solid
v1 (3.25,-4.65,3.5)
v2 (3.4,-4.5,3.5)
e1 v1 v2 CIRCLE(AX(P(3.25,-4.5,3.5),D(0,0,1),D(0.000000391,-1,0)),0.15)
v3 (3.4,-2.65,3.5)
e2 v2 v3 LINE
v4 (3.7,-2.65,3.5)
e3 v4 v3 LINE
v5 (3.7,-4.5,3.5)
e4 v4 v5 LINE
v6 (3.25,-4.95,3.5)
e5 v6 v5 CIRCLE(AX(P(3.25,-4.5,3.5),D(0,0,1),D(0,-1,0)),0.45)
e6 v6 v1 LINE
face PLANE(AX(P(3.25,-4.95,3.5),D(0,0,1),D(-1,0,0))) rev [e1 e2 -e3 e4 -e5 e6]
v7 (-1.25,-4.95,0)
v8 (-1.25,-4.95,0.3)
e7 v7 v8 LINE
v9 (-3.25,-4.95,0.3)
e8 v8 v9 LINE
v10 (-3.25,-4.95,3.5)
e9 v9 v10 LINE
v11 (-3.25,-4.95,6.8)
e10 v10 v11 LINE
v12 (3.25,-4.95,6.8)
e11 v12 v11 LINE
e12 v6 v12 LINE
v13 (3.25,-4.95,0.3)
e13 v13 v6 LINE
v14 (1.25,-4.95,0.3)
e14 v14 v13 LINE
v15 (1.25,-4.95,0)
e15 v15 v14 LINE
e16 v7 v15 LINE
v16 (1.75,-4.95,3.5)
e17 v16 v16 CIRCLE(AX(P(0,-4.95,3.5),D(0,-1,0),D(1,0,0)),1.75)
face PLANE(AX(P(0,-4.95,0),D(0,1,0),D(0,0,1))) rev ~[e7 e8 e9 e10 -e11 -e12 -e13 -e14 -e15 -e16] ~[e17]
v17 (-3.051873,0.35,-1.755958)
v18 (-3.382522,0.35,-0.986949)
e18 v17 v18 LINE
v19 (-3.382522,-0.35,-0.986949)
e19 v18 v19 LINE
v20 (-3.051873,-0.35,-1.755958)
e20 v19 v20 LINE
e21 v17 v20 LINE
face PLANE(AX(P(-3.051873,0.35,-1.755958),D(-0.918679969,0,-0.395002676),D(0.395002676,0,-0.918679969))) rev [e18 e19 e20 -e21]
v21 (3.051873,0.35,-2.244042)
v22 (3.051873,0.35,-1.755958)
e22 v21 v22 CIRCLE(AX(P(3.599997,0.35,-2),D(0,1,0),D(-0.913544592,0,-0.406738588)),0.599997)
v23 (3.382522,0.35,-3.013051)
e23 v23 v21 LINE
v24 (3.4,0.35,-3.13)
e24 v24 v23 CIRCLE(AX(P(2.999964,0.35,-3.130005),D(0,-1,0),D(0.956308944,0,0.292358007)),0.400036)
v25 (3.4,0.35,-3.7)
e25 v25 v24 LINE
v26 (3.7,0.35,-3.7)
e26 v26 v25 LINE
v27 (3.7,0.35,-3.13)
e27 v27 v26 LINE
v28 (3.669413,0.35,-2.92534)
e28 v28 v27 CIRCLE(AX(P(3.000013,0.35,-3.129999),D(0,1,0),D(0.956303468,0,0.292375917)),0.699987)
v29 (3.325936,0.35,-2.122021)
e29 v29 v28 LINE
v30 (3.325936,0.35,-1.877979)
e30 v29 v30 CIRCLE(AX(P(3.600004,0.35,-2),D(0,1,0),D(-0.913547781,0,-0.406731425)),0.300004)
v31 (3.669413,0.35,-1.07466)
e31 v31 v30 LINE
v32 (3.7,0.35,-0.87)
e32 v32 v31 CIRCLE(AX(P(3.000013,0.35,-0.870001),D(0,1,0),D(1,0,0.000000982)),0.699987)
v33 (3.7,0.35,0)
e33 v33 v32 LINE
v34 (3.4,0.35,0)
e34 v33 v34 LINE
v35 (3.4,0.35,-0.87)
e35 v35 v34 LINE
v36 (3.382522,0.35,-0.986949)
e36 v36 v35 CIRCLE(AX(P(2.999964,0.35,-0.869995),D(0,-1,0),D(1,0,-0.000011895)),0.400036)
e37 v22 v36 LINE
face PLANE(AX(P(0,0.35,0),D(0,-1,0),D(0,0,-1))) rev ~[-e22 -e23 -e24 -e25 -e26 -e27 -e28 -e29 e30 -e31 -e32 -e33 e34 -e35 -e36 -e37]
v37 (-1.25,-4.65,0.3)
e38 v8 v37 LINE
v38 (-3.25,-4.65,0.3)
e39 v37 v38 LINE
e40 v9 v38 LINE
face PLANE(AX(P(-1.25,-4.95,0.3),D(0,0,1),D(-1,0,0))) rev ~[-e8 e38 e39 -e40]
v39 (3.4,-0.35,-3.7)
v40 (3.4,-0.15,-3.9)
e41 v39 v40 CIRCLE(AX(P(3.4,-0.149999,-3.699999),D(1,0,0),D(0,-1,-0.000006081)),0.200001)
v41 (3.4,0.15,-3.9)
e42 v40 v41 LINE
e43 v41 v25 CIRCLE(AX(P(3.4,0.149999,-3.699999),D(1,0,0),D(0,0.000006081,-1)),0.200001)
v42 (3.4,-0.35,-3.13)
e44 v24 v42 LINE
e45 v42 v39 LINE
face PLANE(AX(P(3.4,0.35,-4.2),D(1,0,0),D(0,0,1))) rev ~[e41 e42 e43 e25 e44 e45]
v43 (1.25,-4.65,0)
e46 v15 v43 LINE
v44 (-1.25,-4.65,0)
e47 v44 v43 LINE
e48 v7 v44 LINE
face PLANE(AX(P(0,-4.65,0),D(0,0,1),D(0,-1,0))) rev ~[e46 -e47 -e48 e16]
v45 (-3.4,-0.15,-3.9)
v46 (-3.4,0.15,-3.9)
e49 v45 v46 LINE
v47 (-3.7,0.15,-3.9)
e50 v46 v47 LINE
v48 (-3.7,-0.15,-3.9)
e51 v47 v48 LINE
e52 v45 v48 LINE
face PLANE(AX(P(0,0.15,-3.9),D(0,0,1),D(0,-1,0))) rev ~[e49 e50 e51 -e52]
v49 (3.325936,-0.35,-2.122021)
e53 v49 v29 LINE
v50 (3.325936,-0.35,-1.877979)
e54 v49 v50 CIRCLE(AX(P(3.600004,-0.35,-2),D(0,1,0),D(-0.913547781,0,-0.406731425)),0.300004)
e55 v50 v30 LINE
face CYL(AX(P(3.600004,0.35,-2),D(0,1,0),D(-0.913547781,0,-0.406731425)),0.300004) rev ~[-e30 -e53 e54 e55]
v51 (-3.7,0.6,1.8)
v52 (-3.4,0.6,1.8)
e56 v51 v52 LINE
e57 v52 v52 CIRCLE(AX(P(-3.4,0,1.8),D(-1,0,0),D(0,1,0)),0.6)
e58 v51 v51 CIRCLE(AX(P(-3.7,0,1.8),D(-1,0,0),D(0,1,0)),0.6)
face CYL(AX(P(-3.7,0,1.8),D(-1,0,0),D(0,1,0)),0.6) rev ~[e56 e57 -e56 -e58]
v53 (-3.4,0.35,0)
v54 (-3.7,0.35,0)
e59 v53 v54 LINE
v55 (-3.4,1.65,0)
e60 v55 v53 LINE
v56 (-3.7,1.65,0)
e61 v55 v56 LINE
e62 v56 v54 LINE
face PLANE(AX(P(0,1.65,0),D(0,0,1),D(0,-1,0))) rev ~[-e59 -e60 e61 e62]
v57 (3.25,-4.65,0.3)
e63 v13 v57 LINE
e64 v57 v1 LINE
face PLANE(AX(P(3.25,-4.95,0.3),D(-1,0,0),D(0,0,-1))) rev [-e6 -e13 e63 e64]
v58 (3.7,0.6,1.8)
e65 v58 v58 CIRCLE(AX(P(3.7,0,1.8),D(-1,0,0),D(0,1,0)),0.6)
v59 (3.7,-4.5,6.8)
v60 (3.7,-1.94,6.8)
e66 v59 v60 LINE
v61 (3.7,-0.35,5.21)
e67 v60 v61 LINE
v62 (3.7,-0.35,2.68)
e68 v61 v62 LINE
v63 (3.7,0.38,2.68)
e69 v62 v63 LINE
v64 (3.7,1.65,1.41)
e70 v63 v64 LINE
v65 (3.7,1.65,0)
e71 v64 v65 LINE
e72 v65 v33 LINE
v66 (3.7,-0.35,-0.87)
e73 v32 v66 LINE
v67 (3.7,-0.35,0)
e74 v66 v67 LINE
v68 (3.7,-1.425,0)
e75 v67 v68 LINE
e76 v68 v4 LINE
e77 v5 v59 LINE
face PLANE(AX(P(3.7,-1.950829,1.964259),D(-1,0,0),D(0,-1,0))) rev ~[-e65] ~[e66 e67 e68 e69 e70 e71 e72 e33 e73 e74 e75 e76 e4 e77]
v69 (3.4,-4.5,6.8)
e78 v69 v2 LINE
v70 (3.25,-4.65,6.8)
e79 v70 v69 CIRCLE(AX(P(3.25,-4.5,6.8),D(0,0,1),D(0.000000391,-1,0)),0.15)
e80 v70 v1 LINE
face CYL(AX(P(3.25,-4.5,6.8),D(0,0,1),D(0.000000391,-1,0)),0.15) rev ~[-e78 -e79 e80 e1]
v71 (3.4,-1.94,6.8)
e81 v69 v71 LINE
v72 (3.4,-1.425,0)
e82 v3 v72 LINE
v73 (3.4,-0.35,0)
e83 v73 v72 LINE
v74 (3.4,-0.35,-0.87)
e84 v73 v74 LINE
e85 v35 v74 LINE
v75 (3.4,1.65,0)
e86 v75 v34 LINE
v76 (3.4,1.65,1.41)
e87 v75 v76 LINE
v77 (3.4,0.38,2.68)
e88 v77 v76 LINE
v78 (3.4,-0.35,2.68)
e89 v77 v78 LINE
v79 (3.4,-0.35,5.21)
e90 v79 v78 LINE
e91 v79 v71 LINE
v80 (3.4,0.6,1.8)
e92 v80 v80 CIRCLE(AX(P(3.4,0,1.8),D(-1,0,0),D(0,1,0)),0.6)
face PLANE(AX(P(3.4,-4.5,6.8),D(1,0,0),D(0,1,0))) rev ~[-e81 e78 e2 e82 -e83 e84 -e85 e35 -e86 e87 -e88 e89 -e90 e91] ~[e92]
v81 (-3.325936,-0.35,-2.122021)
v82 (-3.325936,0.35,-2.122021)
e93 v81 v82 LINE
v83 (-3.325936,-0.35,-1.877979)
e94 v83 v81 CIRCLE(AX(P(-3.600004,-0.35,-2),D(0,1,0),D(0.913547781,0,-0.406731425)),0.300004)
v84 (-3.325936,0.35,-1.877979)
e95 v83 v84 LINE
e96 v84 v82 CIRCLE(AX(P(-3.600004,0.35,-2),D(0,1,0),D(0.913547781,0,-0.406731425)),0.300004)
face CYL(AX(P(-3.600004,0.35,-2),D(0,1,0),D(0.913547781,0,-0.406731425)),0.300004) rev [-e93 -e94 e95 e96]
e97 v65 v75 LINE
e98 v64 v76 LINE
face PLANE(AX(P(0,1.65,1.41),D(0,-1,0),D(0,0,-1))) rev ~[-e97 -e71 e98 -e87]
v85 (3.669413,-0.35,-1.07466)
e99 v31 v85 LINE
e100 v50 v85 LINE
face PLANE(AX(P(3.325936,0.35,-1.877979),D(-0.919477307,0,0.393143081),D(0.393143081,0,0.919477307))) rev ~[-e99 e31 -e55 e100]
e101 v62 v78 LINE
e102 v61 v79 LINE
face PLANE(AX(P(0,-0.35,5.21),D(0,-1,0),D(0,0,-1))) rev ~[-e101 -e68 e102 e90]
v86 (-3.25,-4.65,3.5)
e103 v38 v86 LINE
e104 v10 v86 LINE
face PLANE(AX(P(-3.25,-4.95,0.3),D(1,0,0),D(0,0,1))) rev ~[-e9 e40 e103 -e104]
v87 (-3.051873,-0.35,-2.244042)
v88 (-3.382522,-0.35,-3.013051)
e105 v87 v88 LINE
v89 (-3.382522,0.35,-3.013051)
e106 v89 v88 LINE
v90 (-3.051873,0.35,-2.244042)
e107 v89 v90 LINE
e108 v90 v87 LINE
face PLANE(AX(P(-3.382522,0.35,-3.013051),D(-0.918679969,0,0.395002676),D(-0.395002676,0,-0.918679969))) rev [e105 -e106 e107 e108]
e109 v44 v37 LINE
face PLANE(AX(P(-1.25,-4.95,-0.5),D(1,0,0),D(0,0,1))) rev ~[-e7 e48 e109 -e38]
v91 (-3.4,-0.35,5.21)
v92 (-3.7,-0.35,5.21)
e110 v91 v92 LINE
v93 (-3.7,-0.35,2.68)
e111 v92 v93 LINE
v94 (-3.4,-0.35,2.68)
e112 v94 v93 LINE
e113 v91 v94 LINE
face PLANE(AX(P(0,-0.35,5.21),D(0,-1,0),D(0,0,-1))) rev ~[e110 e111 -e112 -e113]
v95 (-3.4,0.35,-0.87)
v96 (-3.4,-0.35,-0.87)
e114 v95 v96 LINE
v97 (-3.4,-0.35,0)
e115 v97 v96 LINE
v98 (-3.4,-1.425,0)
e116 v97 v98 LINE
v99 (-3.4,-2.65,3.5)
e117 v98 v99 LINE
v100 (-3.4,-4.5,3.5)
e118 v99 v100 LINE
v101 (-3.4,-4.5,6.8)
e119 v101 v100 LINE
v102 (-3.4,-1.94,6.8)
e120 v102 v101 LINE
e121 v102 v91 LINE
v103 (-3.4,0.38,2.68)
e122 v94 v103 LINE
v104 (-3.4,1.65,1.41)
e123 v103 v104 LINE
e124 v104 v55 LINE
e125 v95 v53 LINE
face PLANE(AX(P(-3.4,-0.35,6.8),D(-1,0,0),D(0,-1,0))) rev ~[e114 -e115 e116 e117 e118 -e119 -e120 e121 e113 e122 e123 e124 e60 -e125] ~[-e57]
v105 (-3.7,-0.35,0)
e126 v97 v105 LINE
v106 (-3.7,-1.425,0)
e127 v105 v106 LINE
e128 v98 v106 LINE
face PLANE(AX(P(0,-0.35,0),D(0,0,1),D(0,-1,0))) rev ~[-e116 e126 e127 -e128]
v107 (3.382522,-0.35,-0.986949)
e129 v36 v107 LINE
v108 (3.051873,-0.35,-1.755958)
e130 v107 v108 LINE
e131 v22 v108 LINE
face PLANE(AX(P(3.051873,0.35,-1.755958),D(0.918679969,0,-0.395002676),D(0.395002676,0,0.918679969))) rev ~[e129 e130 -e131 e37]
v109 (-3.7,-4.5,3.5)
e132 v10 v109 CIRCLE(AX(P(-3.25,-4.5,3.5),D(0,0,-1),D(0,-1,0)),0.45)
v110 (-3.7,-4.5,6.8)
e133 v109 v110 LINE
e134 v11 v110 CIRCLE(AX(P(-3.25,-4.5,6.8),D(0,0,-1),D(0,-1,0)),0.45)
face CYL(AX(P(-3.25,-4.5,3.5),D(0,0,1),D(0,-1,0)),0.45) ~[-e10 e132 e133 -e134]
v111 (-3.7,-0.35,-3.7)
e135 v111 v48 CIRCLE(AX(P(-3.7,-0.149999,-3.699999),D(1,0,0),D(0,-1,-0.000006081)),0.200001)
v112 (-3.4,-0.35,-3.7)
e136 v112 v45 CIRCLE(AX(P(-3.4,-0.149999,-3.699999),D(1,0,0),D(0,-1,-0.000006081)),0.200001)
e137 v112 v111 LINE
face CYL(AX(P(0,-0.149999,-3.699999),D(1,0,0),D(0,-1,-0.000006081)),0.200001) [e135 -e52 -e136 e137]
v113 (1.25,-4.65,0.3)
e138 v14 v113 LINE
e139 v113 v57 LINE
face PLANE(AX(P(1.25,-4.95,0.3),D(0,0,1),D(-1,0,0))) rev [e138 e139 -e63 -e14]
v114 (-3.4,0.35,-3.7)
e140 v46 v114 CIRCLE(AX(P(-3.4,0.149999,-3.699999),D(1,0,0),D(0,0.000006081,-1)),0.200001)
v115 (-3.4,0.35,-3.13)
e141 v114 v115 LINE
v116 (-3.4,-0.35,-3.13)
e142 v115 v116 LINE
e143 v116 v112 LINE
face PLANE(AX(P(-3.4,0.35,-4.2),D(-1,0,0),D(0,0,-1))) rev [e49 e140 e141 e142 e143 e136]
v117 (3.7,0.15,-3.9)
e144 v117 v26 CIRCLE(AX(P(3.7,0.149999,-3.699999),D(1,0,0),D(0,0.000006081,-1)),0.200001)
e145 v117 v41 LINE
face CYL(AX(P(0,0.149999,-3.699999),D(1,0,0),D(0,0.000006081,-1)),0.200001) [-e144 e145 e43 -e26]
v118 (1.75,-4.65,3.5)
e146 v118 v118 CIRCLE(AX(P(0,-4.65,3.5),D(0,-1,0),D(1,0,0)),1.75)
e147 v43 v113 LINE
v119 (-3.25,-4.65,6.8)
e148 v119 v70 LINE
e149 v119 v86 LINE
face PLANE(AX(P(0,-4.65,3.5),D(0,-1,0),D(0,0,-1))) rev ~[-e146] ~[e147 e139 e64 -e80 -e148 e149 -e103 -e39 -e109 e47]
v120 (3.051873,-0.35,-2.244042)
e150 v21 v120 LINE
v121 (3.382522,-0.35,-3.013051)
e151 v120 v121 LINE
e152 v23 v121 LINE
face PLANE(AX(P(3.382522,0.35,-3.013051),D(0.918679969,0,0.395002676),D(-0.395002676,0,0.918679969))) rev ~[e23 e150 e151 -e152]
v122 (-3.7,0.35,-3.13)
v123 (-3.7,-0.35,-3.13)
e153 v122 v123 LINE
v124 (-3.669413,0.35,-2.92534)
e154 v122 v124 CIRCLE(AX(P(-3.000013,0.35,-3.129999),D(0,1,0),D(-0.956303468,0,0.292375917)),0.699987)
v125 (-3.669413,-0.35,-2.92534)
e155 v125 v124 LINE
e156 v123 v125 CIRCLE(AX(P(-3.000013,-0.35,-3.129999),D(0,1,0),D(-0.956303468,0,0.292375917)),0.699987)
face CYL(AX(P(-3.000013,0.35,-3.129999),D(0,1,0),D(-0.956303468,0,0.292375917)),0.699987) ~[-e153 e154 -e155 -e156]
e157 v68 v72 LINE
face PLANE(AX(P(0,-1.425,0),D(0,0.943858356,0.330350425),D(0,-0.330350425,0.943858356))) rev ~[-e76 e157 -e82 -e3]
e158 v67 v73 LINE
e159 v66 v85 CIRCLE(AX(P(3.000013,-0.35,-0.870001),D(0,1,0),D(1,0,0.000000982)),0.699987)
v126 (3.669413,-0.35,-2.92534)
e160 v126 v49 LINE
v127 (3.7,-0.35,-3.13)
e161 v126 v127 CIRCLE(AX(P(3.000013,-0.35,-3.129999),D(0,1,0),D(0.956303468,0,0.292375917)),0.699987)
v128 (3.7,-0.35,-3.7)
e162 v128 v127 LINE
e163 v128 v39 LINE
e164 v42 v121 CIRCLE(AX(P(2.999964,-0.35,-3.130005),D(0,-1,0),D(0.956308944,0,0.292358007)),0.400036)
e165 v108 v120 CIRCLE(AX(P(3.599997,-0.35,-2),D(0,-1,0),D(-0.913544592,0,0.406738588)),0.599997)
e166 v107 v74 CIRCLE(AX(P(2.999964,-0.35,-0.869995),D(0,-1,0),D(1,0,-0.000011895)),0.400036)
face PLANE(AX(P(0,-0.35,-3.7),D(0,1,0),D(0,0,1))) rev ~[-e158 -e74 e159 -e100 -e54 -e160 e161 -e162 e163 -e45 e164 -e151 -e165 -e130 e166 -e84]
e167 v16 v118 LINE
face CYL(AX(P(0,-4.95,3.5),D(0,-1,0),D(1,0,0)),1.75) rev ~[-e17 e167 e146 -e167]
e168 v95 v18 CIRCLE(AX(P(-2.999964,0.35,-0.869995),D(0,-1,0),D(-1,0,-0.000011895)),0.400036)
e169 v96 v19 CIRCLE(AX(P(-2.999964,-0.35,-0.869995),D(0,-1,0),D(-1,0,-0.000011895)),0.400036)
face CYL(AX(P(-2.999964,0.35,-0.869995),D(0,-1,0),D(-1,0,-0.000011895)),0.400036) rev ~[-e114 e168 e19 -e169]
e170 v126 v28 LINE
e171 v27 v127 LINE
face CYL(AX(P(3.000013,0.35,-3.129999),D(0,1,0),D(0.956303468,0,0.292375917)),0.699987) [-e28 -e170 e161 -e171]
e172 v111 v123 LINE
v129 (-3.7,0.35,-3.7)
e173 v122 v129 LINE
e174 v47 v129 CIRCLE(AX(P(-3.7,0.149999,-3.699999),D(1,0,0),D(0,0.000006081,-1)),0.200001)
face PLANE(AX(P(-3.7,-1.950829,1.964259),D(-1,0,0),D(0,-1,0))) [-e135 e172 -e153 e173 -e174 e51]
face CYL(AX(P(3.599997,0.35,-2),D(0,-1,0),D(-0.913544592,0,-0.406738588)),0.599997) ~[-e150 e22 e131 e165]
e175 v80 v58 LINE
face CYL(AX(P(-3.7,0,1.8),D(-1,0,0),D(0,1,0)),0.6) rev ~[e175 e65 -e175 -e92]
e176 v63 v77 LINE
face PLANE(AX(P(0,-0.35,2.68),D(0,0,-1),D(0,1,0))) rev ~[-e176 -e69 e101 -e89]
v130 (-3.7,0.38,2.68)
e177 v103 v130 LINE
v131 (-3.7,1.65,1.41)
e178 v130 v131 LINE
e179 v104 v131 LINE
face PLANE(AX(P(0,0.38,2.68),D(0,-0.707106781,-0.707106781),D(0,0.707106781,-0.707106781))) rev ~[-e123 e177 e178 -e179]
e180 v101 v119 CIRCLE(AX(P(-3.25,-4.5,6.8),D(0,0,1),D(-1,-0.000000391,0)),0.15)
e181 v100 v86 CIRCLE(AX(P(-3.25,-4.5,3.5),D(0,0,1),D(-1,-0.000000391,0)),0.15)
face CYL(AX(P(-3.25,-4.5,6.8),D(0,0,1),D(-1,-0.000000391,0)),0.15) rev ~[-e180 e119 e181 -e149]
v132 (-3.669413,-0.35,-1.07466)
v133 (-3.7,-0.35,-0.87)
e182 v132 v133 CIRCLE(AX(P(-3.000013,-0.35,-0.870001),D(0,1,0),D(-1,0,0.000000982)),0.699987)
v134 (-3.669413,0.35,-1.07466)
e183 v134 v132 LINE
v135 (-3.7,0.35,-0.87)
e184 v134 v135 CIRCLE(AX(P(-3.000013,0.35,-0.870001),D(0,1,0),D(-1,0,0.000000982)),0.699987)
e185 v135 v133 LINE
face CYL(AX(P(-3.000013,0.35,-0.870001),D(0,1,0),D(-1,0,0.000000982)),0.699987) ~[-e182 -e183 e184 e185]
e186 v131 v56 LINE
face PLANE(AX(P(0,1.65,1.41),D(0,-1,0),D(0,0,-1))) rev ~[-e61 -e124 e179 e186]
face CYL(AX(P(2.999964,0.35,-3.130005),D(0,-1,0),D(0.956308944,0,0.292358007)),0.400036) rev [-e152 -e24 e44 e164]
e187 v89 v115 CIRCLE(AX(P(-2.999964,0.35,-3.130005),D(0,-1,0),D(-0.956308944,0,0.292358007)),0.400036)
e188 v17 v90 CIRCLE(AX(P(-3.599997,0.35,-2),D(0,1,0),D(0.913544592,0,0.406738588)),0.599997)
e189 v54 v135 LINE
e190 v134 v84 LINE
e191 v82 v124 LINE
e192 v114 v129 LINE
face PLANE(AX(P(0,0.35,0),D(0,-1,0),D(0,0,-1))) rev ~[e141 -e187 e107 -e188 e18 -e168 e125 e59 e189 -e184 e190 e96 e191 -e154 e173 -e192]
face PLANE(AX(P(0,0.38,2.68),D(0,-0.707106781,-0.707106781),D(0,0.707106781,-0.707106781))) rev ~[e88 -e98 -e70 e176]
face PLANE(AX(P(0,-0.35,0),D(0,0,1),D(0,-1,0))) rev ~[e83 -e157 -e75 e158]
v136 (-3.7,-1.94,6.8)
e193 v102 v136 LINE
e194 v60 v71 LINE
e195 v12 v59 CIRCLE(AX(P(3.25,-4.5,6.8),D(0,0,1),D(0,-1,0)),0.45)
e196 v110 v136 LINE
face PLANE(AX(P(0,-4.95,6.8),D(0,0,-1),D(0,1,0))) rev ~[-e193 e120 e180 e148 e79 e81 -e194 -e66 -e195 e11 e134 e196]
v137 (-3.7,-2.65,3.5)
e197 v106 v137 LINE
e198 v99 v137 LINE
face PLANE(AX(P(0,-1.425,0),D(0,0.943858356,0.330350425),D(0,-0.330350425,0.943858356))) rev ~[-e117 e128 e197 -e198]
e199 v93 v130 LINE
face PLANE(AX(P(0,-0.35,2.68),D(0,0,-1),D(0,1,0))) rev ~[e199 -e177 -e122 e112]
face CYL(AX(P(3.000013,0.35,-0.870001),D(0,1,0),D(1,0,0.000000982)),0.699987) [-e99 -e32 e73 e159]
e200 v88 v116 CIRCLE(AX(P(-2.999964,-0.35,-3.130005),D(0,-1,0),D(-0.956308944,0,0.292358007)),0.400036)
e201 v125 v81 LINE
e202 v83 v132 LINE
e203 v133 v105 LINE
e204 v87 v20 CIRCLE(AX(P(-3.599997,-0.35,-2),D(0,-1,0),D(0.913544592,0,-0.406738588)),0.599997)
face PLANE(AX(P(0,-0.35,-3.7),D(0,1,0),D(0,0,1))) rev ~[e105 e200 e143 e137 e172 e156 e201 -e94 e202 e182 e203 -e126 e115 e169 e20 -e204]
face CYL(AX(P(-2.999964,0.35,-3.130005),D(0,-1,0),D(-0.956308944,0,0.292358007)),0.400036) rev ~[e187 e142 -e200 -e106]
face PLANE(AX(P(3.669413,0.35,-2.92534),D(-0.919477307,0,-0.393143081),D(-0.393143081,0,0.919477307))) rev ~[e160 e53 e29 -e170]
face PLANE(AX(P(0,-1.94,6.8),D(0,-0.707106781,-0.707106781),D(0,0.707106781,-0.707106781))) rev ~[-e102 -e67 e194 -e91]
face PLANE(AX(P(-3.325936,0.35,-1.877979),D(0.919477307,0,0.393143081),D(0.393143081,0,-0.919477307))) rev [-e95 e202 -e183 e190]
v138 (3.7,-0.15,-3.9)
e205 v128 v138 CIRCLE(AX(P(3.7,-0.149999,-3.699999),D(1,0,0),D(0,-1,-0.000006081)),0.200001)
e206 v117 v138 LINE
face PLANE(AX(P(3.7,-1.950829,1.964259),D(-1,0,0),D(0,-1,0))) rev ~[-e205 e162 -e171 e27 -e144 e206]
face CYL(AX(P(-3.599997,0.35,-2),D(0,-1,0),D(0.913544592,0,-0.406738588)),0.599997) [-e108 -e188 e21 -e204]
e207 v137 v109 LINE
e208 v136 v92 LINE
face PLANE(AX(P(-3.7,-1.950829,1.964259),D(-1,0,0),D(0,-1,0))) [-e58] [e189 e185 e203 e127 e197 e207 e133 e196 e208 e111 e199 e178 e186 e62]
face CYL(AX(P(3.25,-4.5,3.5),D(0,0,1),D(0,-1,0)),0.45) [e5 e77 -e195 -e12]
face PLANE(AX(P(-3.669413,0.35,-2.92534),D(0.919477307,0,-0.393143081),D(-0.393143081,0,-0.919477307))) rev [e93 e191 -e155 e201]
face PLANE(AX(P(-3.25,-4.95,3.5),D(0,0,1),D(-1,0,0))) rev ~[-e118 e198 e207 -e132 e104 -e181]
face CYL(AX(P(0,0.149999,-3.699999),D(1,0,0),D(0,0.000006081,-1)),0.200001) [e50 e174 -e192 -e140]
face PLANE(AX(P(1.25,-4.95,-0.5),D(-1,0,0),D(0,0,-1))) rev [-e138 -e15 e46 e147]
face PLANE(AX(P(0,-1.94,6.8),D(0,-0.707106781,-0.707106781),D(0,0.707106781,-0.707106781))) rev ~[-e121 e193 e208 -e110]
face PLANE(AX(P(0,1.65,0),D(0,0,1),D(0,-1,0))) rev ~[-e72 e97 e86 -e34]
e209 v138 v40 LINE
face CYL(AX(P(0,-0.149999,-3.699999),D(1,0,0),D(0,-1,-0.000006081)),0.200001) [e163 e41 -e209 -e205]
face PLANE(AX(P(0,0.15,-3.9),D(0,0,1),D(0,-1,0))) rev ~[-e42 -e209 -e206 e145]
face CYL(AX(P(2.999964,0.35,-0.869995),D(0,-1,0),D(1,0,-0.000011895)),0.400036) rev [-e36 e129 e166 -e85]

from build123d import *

# Parameters (mm, degrees)
PAD_DEPTH       = 3.7
POCKET_DEPTH    = 10.701
POCKET001_DEPTH = 1
POCKET002_DEPTH = 1
SKETCH004_R     = 0.6
POCKET003_DEPTH = 7.401
FILLET_R        = 0.45
SKETCH005_R     = 1.75
POCKET004_DEPTH = 6.601


with BuildPart() as part:
    # Sketch → Pad (new body, symmetric)
    with BuildSketch(Plane.YZ):
        with BuildLine():
            Line((-4.95, 0), (-4.95, 6.8))
            Line((-4.95, 6.8), (-1.94, 6.8))
            Line((-1.94, 6.8), (-0.35, 5.21))
            Line((-0.35, 5.21), (-0.35, 2.68))
            Line((-0.35, 2.68), (0.38, 2.68))
            Line((0.38, 2.68), (1.65, 1.41))
            Line((1.65, 1.41), (1.65, 0))
            Line((1.65, 0), (0.35, 0))
            Line((0.35, 0), (0.35, -3.7))
            ThreePointArc((0.15, -3.9), (0.291421, -3.841421), (0.35, -3.7))
            Line((0.15, -3.9), (-0.15, -3.9))
            ThreePointArc((-0.35, -3.7), (-0.291421, -3.841421), (-0.15, -3.9))
            Line((-0.35, -3.7), (-0.35, 0))
            Line((-0.35, 0), (-1.425, 0))
            Line((-1.425, 0), (-2.65, 3.5))
            Line((-2.65, 3.5), (-4.65, 3.5))
            Line((-4.65, 3.5), (-4.65, 0))
            Line((-4.65, 0), (-4.95, 0))
        make_face()
    extrude(amount=PAD_DEPTH, both=True)

    # Sketch001 (on Face8 of Pad) → Pocket (cut, through all)
    with BuildSketch(Plane(origin=(0, 0, 6.8), x_dir=(0, -1, 0), z_dir=(0, 0, 1))):
        with BuildLine():
            Line((-2.38, -3.4), (-0.35, -3.4))
            Line((-0.35, -3.4), (-0.35, -3))
            Line((-0.35, -3), (0.35, -3))
            Line((0.35, -3), (0.35, -3.4))
            Line((0.35, -3.4), (4.5, -3.4))
            ThreePointArc((4.5, -3.4), (4.606066, -3.356066), (4.65, -3.25))
            Line((4.65, -3.25), (4.65, 3.25))
            ThreePointArc((4.65, 3.25), (4.606066, 3.356066), (4.5, 3.4))
            Line((4.5, 3.4), (0.35, 3.4))
            Line((0.35, 3.4), (0.35, 3))
            Line((0.35, 3), (-0.38, 3))
            Line((-0.38, 3), (-0.38, 3.4))
            Line((-0.38, 3.4), (-2.38, 3.4))
            Line((-2.38, 3.4), (-2.38, -3.4))
        make_face()
    extrude(amount=-POCKET_DEPTH, mode=Mode.SUBTRACT)

    # Sketch002 (on Face33 of Pocket) → Pocket001 (cut, symmetric)
    with BuildSketch(Plane.ZX.offset(0.35)):
        with BuildLine():
            Line((-4.2, 3.4), (-3.13, 3.4))
            ThreePointArc((-3.013051, 3.382522), (-3.070876, 3.395606), (-3.13, 3.4))
            Line((-3.013051, 3.382522), (-2.244042, 3.051873))
            ThreePointArc((-2.244042, 3.051873), (-2, 3), (-1.755958, 3.051873))
            Line((-1.755958, 3.051873), (-0.986949, 3.382522))
            ThreePointArc((-0.87, 3.4), (-0.929124, 3.395606), (-0.986949, 3.382522))
            Line((-0.87, 3.4), (2.68, 3.4))
            Line((2.68, 3.4), (2.98, 3.4))
            Line((2.98, 3.4), (2.98, 2.7))
            Line((2.98, 2.7), (-4.2, 2.7))
            Line((-4.2, 2.7), (-4.2, 3))
            Line((-4.2, 3), (-4.2, 3.4))
        make_face()
        with BuildLine():
            ThreePointArc((-2.92534, 3.669413), (-3.026533, 3.692311), (-3.13, 3.7))
            Line((-3.13, 3.7), (-3.13, 3.9))
            Line((-3.13, 3.9), (-0.87, 3.9))
            Line((-0.87, 3.9), (-0.87, 3.7))
            ThreePointArc((-0.87, 3.7), (-0.973467, 3.692311), (-1.07466, 3.669413))
            Line((-1.877979, 3.325936), (-1.07466, 3.669413))
            ThreePointArc((-2.122021, 3.325936), (-2, 3.3), (-1.877979, 3.325936))
            Line((-2.92534, 3.669413), (-2.122021, 3.325936))
        make_face()
    pocket001 = extrude(amount=POCKET001_DEPTH, both=True, mode=Mode.SUBTRACT)

    # Mirrored: Pocket001 across Sketch002 H_Axis
    add(pocket001.mirror(Plane(origin=(0, 0.35, 0), x_dir=(0, 1, 0), z_dir=(1, 0, 0))), mode=Mode.SUBTRACT)

    # Sketch003 (on Face26 of Mirrored) → Pocket002 (cut)
    with BuildSketch(Plane(origin=(0, -4.95, 0), x_dir=(0, 0, -1), z_dir=(0, -1, 0))):
        Polygon((0, -1.25), (-0.3, -1.25), (-0.3, -3.25), (-3.5, -3.25), (-3.5, -3.7), (-3.5, -4.2), (0.5, -4.2), (0.5, -1.25), align=None)
    pocket002 = extrude(amount=-POCKET002_DEPTH, mode=Mode.SUBTRACT)

    # Mirrored001: Pocket002 across Sketch003 H_Axis
    add(pocket002.mirror(Plane(origin=(0, -4.95, 0), x_dir=(0, -1, 0), z_dir=(1, 0, 0))), mode=Mode.SUBTRACT)

    # Sketch004 (on Face9 of Mirrored001) → Pocket003 (cut, through all)
    with BuildSketch(Plane(origin=(-3.7, 0, 0), x_dir=(0, 1, 0), z_dir=(-1, 0, 0))):
        with Locations((0, -1.8)):
            Circle(SKETCH004_R)
    extrude(amount=-POCKET003_DEPTH, mode=Mode.SUBTRACT)

    # Fillet
    fillet_edges = [part.edges().sort_by_distance(p)[0] for p in [
        (-3.7, -4.95, 5.15),
        (3.7, -4.95, 5.15),
    ]]
    fillet(fillet_edges, radius=FILLET_R)

    # Sketch005 (on Face20 of Fillet) → Pocket004 (cut, through all)
    with BuildSketch(Plane.XZ.offset(4.95)):
        with Locations((0, 3.5)):
            Circle(SKETCH005_R)
    extrude(amount=-POCKET004_DEPTH, mode=Mode.SUBTRACT)


solid = part.part
